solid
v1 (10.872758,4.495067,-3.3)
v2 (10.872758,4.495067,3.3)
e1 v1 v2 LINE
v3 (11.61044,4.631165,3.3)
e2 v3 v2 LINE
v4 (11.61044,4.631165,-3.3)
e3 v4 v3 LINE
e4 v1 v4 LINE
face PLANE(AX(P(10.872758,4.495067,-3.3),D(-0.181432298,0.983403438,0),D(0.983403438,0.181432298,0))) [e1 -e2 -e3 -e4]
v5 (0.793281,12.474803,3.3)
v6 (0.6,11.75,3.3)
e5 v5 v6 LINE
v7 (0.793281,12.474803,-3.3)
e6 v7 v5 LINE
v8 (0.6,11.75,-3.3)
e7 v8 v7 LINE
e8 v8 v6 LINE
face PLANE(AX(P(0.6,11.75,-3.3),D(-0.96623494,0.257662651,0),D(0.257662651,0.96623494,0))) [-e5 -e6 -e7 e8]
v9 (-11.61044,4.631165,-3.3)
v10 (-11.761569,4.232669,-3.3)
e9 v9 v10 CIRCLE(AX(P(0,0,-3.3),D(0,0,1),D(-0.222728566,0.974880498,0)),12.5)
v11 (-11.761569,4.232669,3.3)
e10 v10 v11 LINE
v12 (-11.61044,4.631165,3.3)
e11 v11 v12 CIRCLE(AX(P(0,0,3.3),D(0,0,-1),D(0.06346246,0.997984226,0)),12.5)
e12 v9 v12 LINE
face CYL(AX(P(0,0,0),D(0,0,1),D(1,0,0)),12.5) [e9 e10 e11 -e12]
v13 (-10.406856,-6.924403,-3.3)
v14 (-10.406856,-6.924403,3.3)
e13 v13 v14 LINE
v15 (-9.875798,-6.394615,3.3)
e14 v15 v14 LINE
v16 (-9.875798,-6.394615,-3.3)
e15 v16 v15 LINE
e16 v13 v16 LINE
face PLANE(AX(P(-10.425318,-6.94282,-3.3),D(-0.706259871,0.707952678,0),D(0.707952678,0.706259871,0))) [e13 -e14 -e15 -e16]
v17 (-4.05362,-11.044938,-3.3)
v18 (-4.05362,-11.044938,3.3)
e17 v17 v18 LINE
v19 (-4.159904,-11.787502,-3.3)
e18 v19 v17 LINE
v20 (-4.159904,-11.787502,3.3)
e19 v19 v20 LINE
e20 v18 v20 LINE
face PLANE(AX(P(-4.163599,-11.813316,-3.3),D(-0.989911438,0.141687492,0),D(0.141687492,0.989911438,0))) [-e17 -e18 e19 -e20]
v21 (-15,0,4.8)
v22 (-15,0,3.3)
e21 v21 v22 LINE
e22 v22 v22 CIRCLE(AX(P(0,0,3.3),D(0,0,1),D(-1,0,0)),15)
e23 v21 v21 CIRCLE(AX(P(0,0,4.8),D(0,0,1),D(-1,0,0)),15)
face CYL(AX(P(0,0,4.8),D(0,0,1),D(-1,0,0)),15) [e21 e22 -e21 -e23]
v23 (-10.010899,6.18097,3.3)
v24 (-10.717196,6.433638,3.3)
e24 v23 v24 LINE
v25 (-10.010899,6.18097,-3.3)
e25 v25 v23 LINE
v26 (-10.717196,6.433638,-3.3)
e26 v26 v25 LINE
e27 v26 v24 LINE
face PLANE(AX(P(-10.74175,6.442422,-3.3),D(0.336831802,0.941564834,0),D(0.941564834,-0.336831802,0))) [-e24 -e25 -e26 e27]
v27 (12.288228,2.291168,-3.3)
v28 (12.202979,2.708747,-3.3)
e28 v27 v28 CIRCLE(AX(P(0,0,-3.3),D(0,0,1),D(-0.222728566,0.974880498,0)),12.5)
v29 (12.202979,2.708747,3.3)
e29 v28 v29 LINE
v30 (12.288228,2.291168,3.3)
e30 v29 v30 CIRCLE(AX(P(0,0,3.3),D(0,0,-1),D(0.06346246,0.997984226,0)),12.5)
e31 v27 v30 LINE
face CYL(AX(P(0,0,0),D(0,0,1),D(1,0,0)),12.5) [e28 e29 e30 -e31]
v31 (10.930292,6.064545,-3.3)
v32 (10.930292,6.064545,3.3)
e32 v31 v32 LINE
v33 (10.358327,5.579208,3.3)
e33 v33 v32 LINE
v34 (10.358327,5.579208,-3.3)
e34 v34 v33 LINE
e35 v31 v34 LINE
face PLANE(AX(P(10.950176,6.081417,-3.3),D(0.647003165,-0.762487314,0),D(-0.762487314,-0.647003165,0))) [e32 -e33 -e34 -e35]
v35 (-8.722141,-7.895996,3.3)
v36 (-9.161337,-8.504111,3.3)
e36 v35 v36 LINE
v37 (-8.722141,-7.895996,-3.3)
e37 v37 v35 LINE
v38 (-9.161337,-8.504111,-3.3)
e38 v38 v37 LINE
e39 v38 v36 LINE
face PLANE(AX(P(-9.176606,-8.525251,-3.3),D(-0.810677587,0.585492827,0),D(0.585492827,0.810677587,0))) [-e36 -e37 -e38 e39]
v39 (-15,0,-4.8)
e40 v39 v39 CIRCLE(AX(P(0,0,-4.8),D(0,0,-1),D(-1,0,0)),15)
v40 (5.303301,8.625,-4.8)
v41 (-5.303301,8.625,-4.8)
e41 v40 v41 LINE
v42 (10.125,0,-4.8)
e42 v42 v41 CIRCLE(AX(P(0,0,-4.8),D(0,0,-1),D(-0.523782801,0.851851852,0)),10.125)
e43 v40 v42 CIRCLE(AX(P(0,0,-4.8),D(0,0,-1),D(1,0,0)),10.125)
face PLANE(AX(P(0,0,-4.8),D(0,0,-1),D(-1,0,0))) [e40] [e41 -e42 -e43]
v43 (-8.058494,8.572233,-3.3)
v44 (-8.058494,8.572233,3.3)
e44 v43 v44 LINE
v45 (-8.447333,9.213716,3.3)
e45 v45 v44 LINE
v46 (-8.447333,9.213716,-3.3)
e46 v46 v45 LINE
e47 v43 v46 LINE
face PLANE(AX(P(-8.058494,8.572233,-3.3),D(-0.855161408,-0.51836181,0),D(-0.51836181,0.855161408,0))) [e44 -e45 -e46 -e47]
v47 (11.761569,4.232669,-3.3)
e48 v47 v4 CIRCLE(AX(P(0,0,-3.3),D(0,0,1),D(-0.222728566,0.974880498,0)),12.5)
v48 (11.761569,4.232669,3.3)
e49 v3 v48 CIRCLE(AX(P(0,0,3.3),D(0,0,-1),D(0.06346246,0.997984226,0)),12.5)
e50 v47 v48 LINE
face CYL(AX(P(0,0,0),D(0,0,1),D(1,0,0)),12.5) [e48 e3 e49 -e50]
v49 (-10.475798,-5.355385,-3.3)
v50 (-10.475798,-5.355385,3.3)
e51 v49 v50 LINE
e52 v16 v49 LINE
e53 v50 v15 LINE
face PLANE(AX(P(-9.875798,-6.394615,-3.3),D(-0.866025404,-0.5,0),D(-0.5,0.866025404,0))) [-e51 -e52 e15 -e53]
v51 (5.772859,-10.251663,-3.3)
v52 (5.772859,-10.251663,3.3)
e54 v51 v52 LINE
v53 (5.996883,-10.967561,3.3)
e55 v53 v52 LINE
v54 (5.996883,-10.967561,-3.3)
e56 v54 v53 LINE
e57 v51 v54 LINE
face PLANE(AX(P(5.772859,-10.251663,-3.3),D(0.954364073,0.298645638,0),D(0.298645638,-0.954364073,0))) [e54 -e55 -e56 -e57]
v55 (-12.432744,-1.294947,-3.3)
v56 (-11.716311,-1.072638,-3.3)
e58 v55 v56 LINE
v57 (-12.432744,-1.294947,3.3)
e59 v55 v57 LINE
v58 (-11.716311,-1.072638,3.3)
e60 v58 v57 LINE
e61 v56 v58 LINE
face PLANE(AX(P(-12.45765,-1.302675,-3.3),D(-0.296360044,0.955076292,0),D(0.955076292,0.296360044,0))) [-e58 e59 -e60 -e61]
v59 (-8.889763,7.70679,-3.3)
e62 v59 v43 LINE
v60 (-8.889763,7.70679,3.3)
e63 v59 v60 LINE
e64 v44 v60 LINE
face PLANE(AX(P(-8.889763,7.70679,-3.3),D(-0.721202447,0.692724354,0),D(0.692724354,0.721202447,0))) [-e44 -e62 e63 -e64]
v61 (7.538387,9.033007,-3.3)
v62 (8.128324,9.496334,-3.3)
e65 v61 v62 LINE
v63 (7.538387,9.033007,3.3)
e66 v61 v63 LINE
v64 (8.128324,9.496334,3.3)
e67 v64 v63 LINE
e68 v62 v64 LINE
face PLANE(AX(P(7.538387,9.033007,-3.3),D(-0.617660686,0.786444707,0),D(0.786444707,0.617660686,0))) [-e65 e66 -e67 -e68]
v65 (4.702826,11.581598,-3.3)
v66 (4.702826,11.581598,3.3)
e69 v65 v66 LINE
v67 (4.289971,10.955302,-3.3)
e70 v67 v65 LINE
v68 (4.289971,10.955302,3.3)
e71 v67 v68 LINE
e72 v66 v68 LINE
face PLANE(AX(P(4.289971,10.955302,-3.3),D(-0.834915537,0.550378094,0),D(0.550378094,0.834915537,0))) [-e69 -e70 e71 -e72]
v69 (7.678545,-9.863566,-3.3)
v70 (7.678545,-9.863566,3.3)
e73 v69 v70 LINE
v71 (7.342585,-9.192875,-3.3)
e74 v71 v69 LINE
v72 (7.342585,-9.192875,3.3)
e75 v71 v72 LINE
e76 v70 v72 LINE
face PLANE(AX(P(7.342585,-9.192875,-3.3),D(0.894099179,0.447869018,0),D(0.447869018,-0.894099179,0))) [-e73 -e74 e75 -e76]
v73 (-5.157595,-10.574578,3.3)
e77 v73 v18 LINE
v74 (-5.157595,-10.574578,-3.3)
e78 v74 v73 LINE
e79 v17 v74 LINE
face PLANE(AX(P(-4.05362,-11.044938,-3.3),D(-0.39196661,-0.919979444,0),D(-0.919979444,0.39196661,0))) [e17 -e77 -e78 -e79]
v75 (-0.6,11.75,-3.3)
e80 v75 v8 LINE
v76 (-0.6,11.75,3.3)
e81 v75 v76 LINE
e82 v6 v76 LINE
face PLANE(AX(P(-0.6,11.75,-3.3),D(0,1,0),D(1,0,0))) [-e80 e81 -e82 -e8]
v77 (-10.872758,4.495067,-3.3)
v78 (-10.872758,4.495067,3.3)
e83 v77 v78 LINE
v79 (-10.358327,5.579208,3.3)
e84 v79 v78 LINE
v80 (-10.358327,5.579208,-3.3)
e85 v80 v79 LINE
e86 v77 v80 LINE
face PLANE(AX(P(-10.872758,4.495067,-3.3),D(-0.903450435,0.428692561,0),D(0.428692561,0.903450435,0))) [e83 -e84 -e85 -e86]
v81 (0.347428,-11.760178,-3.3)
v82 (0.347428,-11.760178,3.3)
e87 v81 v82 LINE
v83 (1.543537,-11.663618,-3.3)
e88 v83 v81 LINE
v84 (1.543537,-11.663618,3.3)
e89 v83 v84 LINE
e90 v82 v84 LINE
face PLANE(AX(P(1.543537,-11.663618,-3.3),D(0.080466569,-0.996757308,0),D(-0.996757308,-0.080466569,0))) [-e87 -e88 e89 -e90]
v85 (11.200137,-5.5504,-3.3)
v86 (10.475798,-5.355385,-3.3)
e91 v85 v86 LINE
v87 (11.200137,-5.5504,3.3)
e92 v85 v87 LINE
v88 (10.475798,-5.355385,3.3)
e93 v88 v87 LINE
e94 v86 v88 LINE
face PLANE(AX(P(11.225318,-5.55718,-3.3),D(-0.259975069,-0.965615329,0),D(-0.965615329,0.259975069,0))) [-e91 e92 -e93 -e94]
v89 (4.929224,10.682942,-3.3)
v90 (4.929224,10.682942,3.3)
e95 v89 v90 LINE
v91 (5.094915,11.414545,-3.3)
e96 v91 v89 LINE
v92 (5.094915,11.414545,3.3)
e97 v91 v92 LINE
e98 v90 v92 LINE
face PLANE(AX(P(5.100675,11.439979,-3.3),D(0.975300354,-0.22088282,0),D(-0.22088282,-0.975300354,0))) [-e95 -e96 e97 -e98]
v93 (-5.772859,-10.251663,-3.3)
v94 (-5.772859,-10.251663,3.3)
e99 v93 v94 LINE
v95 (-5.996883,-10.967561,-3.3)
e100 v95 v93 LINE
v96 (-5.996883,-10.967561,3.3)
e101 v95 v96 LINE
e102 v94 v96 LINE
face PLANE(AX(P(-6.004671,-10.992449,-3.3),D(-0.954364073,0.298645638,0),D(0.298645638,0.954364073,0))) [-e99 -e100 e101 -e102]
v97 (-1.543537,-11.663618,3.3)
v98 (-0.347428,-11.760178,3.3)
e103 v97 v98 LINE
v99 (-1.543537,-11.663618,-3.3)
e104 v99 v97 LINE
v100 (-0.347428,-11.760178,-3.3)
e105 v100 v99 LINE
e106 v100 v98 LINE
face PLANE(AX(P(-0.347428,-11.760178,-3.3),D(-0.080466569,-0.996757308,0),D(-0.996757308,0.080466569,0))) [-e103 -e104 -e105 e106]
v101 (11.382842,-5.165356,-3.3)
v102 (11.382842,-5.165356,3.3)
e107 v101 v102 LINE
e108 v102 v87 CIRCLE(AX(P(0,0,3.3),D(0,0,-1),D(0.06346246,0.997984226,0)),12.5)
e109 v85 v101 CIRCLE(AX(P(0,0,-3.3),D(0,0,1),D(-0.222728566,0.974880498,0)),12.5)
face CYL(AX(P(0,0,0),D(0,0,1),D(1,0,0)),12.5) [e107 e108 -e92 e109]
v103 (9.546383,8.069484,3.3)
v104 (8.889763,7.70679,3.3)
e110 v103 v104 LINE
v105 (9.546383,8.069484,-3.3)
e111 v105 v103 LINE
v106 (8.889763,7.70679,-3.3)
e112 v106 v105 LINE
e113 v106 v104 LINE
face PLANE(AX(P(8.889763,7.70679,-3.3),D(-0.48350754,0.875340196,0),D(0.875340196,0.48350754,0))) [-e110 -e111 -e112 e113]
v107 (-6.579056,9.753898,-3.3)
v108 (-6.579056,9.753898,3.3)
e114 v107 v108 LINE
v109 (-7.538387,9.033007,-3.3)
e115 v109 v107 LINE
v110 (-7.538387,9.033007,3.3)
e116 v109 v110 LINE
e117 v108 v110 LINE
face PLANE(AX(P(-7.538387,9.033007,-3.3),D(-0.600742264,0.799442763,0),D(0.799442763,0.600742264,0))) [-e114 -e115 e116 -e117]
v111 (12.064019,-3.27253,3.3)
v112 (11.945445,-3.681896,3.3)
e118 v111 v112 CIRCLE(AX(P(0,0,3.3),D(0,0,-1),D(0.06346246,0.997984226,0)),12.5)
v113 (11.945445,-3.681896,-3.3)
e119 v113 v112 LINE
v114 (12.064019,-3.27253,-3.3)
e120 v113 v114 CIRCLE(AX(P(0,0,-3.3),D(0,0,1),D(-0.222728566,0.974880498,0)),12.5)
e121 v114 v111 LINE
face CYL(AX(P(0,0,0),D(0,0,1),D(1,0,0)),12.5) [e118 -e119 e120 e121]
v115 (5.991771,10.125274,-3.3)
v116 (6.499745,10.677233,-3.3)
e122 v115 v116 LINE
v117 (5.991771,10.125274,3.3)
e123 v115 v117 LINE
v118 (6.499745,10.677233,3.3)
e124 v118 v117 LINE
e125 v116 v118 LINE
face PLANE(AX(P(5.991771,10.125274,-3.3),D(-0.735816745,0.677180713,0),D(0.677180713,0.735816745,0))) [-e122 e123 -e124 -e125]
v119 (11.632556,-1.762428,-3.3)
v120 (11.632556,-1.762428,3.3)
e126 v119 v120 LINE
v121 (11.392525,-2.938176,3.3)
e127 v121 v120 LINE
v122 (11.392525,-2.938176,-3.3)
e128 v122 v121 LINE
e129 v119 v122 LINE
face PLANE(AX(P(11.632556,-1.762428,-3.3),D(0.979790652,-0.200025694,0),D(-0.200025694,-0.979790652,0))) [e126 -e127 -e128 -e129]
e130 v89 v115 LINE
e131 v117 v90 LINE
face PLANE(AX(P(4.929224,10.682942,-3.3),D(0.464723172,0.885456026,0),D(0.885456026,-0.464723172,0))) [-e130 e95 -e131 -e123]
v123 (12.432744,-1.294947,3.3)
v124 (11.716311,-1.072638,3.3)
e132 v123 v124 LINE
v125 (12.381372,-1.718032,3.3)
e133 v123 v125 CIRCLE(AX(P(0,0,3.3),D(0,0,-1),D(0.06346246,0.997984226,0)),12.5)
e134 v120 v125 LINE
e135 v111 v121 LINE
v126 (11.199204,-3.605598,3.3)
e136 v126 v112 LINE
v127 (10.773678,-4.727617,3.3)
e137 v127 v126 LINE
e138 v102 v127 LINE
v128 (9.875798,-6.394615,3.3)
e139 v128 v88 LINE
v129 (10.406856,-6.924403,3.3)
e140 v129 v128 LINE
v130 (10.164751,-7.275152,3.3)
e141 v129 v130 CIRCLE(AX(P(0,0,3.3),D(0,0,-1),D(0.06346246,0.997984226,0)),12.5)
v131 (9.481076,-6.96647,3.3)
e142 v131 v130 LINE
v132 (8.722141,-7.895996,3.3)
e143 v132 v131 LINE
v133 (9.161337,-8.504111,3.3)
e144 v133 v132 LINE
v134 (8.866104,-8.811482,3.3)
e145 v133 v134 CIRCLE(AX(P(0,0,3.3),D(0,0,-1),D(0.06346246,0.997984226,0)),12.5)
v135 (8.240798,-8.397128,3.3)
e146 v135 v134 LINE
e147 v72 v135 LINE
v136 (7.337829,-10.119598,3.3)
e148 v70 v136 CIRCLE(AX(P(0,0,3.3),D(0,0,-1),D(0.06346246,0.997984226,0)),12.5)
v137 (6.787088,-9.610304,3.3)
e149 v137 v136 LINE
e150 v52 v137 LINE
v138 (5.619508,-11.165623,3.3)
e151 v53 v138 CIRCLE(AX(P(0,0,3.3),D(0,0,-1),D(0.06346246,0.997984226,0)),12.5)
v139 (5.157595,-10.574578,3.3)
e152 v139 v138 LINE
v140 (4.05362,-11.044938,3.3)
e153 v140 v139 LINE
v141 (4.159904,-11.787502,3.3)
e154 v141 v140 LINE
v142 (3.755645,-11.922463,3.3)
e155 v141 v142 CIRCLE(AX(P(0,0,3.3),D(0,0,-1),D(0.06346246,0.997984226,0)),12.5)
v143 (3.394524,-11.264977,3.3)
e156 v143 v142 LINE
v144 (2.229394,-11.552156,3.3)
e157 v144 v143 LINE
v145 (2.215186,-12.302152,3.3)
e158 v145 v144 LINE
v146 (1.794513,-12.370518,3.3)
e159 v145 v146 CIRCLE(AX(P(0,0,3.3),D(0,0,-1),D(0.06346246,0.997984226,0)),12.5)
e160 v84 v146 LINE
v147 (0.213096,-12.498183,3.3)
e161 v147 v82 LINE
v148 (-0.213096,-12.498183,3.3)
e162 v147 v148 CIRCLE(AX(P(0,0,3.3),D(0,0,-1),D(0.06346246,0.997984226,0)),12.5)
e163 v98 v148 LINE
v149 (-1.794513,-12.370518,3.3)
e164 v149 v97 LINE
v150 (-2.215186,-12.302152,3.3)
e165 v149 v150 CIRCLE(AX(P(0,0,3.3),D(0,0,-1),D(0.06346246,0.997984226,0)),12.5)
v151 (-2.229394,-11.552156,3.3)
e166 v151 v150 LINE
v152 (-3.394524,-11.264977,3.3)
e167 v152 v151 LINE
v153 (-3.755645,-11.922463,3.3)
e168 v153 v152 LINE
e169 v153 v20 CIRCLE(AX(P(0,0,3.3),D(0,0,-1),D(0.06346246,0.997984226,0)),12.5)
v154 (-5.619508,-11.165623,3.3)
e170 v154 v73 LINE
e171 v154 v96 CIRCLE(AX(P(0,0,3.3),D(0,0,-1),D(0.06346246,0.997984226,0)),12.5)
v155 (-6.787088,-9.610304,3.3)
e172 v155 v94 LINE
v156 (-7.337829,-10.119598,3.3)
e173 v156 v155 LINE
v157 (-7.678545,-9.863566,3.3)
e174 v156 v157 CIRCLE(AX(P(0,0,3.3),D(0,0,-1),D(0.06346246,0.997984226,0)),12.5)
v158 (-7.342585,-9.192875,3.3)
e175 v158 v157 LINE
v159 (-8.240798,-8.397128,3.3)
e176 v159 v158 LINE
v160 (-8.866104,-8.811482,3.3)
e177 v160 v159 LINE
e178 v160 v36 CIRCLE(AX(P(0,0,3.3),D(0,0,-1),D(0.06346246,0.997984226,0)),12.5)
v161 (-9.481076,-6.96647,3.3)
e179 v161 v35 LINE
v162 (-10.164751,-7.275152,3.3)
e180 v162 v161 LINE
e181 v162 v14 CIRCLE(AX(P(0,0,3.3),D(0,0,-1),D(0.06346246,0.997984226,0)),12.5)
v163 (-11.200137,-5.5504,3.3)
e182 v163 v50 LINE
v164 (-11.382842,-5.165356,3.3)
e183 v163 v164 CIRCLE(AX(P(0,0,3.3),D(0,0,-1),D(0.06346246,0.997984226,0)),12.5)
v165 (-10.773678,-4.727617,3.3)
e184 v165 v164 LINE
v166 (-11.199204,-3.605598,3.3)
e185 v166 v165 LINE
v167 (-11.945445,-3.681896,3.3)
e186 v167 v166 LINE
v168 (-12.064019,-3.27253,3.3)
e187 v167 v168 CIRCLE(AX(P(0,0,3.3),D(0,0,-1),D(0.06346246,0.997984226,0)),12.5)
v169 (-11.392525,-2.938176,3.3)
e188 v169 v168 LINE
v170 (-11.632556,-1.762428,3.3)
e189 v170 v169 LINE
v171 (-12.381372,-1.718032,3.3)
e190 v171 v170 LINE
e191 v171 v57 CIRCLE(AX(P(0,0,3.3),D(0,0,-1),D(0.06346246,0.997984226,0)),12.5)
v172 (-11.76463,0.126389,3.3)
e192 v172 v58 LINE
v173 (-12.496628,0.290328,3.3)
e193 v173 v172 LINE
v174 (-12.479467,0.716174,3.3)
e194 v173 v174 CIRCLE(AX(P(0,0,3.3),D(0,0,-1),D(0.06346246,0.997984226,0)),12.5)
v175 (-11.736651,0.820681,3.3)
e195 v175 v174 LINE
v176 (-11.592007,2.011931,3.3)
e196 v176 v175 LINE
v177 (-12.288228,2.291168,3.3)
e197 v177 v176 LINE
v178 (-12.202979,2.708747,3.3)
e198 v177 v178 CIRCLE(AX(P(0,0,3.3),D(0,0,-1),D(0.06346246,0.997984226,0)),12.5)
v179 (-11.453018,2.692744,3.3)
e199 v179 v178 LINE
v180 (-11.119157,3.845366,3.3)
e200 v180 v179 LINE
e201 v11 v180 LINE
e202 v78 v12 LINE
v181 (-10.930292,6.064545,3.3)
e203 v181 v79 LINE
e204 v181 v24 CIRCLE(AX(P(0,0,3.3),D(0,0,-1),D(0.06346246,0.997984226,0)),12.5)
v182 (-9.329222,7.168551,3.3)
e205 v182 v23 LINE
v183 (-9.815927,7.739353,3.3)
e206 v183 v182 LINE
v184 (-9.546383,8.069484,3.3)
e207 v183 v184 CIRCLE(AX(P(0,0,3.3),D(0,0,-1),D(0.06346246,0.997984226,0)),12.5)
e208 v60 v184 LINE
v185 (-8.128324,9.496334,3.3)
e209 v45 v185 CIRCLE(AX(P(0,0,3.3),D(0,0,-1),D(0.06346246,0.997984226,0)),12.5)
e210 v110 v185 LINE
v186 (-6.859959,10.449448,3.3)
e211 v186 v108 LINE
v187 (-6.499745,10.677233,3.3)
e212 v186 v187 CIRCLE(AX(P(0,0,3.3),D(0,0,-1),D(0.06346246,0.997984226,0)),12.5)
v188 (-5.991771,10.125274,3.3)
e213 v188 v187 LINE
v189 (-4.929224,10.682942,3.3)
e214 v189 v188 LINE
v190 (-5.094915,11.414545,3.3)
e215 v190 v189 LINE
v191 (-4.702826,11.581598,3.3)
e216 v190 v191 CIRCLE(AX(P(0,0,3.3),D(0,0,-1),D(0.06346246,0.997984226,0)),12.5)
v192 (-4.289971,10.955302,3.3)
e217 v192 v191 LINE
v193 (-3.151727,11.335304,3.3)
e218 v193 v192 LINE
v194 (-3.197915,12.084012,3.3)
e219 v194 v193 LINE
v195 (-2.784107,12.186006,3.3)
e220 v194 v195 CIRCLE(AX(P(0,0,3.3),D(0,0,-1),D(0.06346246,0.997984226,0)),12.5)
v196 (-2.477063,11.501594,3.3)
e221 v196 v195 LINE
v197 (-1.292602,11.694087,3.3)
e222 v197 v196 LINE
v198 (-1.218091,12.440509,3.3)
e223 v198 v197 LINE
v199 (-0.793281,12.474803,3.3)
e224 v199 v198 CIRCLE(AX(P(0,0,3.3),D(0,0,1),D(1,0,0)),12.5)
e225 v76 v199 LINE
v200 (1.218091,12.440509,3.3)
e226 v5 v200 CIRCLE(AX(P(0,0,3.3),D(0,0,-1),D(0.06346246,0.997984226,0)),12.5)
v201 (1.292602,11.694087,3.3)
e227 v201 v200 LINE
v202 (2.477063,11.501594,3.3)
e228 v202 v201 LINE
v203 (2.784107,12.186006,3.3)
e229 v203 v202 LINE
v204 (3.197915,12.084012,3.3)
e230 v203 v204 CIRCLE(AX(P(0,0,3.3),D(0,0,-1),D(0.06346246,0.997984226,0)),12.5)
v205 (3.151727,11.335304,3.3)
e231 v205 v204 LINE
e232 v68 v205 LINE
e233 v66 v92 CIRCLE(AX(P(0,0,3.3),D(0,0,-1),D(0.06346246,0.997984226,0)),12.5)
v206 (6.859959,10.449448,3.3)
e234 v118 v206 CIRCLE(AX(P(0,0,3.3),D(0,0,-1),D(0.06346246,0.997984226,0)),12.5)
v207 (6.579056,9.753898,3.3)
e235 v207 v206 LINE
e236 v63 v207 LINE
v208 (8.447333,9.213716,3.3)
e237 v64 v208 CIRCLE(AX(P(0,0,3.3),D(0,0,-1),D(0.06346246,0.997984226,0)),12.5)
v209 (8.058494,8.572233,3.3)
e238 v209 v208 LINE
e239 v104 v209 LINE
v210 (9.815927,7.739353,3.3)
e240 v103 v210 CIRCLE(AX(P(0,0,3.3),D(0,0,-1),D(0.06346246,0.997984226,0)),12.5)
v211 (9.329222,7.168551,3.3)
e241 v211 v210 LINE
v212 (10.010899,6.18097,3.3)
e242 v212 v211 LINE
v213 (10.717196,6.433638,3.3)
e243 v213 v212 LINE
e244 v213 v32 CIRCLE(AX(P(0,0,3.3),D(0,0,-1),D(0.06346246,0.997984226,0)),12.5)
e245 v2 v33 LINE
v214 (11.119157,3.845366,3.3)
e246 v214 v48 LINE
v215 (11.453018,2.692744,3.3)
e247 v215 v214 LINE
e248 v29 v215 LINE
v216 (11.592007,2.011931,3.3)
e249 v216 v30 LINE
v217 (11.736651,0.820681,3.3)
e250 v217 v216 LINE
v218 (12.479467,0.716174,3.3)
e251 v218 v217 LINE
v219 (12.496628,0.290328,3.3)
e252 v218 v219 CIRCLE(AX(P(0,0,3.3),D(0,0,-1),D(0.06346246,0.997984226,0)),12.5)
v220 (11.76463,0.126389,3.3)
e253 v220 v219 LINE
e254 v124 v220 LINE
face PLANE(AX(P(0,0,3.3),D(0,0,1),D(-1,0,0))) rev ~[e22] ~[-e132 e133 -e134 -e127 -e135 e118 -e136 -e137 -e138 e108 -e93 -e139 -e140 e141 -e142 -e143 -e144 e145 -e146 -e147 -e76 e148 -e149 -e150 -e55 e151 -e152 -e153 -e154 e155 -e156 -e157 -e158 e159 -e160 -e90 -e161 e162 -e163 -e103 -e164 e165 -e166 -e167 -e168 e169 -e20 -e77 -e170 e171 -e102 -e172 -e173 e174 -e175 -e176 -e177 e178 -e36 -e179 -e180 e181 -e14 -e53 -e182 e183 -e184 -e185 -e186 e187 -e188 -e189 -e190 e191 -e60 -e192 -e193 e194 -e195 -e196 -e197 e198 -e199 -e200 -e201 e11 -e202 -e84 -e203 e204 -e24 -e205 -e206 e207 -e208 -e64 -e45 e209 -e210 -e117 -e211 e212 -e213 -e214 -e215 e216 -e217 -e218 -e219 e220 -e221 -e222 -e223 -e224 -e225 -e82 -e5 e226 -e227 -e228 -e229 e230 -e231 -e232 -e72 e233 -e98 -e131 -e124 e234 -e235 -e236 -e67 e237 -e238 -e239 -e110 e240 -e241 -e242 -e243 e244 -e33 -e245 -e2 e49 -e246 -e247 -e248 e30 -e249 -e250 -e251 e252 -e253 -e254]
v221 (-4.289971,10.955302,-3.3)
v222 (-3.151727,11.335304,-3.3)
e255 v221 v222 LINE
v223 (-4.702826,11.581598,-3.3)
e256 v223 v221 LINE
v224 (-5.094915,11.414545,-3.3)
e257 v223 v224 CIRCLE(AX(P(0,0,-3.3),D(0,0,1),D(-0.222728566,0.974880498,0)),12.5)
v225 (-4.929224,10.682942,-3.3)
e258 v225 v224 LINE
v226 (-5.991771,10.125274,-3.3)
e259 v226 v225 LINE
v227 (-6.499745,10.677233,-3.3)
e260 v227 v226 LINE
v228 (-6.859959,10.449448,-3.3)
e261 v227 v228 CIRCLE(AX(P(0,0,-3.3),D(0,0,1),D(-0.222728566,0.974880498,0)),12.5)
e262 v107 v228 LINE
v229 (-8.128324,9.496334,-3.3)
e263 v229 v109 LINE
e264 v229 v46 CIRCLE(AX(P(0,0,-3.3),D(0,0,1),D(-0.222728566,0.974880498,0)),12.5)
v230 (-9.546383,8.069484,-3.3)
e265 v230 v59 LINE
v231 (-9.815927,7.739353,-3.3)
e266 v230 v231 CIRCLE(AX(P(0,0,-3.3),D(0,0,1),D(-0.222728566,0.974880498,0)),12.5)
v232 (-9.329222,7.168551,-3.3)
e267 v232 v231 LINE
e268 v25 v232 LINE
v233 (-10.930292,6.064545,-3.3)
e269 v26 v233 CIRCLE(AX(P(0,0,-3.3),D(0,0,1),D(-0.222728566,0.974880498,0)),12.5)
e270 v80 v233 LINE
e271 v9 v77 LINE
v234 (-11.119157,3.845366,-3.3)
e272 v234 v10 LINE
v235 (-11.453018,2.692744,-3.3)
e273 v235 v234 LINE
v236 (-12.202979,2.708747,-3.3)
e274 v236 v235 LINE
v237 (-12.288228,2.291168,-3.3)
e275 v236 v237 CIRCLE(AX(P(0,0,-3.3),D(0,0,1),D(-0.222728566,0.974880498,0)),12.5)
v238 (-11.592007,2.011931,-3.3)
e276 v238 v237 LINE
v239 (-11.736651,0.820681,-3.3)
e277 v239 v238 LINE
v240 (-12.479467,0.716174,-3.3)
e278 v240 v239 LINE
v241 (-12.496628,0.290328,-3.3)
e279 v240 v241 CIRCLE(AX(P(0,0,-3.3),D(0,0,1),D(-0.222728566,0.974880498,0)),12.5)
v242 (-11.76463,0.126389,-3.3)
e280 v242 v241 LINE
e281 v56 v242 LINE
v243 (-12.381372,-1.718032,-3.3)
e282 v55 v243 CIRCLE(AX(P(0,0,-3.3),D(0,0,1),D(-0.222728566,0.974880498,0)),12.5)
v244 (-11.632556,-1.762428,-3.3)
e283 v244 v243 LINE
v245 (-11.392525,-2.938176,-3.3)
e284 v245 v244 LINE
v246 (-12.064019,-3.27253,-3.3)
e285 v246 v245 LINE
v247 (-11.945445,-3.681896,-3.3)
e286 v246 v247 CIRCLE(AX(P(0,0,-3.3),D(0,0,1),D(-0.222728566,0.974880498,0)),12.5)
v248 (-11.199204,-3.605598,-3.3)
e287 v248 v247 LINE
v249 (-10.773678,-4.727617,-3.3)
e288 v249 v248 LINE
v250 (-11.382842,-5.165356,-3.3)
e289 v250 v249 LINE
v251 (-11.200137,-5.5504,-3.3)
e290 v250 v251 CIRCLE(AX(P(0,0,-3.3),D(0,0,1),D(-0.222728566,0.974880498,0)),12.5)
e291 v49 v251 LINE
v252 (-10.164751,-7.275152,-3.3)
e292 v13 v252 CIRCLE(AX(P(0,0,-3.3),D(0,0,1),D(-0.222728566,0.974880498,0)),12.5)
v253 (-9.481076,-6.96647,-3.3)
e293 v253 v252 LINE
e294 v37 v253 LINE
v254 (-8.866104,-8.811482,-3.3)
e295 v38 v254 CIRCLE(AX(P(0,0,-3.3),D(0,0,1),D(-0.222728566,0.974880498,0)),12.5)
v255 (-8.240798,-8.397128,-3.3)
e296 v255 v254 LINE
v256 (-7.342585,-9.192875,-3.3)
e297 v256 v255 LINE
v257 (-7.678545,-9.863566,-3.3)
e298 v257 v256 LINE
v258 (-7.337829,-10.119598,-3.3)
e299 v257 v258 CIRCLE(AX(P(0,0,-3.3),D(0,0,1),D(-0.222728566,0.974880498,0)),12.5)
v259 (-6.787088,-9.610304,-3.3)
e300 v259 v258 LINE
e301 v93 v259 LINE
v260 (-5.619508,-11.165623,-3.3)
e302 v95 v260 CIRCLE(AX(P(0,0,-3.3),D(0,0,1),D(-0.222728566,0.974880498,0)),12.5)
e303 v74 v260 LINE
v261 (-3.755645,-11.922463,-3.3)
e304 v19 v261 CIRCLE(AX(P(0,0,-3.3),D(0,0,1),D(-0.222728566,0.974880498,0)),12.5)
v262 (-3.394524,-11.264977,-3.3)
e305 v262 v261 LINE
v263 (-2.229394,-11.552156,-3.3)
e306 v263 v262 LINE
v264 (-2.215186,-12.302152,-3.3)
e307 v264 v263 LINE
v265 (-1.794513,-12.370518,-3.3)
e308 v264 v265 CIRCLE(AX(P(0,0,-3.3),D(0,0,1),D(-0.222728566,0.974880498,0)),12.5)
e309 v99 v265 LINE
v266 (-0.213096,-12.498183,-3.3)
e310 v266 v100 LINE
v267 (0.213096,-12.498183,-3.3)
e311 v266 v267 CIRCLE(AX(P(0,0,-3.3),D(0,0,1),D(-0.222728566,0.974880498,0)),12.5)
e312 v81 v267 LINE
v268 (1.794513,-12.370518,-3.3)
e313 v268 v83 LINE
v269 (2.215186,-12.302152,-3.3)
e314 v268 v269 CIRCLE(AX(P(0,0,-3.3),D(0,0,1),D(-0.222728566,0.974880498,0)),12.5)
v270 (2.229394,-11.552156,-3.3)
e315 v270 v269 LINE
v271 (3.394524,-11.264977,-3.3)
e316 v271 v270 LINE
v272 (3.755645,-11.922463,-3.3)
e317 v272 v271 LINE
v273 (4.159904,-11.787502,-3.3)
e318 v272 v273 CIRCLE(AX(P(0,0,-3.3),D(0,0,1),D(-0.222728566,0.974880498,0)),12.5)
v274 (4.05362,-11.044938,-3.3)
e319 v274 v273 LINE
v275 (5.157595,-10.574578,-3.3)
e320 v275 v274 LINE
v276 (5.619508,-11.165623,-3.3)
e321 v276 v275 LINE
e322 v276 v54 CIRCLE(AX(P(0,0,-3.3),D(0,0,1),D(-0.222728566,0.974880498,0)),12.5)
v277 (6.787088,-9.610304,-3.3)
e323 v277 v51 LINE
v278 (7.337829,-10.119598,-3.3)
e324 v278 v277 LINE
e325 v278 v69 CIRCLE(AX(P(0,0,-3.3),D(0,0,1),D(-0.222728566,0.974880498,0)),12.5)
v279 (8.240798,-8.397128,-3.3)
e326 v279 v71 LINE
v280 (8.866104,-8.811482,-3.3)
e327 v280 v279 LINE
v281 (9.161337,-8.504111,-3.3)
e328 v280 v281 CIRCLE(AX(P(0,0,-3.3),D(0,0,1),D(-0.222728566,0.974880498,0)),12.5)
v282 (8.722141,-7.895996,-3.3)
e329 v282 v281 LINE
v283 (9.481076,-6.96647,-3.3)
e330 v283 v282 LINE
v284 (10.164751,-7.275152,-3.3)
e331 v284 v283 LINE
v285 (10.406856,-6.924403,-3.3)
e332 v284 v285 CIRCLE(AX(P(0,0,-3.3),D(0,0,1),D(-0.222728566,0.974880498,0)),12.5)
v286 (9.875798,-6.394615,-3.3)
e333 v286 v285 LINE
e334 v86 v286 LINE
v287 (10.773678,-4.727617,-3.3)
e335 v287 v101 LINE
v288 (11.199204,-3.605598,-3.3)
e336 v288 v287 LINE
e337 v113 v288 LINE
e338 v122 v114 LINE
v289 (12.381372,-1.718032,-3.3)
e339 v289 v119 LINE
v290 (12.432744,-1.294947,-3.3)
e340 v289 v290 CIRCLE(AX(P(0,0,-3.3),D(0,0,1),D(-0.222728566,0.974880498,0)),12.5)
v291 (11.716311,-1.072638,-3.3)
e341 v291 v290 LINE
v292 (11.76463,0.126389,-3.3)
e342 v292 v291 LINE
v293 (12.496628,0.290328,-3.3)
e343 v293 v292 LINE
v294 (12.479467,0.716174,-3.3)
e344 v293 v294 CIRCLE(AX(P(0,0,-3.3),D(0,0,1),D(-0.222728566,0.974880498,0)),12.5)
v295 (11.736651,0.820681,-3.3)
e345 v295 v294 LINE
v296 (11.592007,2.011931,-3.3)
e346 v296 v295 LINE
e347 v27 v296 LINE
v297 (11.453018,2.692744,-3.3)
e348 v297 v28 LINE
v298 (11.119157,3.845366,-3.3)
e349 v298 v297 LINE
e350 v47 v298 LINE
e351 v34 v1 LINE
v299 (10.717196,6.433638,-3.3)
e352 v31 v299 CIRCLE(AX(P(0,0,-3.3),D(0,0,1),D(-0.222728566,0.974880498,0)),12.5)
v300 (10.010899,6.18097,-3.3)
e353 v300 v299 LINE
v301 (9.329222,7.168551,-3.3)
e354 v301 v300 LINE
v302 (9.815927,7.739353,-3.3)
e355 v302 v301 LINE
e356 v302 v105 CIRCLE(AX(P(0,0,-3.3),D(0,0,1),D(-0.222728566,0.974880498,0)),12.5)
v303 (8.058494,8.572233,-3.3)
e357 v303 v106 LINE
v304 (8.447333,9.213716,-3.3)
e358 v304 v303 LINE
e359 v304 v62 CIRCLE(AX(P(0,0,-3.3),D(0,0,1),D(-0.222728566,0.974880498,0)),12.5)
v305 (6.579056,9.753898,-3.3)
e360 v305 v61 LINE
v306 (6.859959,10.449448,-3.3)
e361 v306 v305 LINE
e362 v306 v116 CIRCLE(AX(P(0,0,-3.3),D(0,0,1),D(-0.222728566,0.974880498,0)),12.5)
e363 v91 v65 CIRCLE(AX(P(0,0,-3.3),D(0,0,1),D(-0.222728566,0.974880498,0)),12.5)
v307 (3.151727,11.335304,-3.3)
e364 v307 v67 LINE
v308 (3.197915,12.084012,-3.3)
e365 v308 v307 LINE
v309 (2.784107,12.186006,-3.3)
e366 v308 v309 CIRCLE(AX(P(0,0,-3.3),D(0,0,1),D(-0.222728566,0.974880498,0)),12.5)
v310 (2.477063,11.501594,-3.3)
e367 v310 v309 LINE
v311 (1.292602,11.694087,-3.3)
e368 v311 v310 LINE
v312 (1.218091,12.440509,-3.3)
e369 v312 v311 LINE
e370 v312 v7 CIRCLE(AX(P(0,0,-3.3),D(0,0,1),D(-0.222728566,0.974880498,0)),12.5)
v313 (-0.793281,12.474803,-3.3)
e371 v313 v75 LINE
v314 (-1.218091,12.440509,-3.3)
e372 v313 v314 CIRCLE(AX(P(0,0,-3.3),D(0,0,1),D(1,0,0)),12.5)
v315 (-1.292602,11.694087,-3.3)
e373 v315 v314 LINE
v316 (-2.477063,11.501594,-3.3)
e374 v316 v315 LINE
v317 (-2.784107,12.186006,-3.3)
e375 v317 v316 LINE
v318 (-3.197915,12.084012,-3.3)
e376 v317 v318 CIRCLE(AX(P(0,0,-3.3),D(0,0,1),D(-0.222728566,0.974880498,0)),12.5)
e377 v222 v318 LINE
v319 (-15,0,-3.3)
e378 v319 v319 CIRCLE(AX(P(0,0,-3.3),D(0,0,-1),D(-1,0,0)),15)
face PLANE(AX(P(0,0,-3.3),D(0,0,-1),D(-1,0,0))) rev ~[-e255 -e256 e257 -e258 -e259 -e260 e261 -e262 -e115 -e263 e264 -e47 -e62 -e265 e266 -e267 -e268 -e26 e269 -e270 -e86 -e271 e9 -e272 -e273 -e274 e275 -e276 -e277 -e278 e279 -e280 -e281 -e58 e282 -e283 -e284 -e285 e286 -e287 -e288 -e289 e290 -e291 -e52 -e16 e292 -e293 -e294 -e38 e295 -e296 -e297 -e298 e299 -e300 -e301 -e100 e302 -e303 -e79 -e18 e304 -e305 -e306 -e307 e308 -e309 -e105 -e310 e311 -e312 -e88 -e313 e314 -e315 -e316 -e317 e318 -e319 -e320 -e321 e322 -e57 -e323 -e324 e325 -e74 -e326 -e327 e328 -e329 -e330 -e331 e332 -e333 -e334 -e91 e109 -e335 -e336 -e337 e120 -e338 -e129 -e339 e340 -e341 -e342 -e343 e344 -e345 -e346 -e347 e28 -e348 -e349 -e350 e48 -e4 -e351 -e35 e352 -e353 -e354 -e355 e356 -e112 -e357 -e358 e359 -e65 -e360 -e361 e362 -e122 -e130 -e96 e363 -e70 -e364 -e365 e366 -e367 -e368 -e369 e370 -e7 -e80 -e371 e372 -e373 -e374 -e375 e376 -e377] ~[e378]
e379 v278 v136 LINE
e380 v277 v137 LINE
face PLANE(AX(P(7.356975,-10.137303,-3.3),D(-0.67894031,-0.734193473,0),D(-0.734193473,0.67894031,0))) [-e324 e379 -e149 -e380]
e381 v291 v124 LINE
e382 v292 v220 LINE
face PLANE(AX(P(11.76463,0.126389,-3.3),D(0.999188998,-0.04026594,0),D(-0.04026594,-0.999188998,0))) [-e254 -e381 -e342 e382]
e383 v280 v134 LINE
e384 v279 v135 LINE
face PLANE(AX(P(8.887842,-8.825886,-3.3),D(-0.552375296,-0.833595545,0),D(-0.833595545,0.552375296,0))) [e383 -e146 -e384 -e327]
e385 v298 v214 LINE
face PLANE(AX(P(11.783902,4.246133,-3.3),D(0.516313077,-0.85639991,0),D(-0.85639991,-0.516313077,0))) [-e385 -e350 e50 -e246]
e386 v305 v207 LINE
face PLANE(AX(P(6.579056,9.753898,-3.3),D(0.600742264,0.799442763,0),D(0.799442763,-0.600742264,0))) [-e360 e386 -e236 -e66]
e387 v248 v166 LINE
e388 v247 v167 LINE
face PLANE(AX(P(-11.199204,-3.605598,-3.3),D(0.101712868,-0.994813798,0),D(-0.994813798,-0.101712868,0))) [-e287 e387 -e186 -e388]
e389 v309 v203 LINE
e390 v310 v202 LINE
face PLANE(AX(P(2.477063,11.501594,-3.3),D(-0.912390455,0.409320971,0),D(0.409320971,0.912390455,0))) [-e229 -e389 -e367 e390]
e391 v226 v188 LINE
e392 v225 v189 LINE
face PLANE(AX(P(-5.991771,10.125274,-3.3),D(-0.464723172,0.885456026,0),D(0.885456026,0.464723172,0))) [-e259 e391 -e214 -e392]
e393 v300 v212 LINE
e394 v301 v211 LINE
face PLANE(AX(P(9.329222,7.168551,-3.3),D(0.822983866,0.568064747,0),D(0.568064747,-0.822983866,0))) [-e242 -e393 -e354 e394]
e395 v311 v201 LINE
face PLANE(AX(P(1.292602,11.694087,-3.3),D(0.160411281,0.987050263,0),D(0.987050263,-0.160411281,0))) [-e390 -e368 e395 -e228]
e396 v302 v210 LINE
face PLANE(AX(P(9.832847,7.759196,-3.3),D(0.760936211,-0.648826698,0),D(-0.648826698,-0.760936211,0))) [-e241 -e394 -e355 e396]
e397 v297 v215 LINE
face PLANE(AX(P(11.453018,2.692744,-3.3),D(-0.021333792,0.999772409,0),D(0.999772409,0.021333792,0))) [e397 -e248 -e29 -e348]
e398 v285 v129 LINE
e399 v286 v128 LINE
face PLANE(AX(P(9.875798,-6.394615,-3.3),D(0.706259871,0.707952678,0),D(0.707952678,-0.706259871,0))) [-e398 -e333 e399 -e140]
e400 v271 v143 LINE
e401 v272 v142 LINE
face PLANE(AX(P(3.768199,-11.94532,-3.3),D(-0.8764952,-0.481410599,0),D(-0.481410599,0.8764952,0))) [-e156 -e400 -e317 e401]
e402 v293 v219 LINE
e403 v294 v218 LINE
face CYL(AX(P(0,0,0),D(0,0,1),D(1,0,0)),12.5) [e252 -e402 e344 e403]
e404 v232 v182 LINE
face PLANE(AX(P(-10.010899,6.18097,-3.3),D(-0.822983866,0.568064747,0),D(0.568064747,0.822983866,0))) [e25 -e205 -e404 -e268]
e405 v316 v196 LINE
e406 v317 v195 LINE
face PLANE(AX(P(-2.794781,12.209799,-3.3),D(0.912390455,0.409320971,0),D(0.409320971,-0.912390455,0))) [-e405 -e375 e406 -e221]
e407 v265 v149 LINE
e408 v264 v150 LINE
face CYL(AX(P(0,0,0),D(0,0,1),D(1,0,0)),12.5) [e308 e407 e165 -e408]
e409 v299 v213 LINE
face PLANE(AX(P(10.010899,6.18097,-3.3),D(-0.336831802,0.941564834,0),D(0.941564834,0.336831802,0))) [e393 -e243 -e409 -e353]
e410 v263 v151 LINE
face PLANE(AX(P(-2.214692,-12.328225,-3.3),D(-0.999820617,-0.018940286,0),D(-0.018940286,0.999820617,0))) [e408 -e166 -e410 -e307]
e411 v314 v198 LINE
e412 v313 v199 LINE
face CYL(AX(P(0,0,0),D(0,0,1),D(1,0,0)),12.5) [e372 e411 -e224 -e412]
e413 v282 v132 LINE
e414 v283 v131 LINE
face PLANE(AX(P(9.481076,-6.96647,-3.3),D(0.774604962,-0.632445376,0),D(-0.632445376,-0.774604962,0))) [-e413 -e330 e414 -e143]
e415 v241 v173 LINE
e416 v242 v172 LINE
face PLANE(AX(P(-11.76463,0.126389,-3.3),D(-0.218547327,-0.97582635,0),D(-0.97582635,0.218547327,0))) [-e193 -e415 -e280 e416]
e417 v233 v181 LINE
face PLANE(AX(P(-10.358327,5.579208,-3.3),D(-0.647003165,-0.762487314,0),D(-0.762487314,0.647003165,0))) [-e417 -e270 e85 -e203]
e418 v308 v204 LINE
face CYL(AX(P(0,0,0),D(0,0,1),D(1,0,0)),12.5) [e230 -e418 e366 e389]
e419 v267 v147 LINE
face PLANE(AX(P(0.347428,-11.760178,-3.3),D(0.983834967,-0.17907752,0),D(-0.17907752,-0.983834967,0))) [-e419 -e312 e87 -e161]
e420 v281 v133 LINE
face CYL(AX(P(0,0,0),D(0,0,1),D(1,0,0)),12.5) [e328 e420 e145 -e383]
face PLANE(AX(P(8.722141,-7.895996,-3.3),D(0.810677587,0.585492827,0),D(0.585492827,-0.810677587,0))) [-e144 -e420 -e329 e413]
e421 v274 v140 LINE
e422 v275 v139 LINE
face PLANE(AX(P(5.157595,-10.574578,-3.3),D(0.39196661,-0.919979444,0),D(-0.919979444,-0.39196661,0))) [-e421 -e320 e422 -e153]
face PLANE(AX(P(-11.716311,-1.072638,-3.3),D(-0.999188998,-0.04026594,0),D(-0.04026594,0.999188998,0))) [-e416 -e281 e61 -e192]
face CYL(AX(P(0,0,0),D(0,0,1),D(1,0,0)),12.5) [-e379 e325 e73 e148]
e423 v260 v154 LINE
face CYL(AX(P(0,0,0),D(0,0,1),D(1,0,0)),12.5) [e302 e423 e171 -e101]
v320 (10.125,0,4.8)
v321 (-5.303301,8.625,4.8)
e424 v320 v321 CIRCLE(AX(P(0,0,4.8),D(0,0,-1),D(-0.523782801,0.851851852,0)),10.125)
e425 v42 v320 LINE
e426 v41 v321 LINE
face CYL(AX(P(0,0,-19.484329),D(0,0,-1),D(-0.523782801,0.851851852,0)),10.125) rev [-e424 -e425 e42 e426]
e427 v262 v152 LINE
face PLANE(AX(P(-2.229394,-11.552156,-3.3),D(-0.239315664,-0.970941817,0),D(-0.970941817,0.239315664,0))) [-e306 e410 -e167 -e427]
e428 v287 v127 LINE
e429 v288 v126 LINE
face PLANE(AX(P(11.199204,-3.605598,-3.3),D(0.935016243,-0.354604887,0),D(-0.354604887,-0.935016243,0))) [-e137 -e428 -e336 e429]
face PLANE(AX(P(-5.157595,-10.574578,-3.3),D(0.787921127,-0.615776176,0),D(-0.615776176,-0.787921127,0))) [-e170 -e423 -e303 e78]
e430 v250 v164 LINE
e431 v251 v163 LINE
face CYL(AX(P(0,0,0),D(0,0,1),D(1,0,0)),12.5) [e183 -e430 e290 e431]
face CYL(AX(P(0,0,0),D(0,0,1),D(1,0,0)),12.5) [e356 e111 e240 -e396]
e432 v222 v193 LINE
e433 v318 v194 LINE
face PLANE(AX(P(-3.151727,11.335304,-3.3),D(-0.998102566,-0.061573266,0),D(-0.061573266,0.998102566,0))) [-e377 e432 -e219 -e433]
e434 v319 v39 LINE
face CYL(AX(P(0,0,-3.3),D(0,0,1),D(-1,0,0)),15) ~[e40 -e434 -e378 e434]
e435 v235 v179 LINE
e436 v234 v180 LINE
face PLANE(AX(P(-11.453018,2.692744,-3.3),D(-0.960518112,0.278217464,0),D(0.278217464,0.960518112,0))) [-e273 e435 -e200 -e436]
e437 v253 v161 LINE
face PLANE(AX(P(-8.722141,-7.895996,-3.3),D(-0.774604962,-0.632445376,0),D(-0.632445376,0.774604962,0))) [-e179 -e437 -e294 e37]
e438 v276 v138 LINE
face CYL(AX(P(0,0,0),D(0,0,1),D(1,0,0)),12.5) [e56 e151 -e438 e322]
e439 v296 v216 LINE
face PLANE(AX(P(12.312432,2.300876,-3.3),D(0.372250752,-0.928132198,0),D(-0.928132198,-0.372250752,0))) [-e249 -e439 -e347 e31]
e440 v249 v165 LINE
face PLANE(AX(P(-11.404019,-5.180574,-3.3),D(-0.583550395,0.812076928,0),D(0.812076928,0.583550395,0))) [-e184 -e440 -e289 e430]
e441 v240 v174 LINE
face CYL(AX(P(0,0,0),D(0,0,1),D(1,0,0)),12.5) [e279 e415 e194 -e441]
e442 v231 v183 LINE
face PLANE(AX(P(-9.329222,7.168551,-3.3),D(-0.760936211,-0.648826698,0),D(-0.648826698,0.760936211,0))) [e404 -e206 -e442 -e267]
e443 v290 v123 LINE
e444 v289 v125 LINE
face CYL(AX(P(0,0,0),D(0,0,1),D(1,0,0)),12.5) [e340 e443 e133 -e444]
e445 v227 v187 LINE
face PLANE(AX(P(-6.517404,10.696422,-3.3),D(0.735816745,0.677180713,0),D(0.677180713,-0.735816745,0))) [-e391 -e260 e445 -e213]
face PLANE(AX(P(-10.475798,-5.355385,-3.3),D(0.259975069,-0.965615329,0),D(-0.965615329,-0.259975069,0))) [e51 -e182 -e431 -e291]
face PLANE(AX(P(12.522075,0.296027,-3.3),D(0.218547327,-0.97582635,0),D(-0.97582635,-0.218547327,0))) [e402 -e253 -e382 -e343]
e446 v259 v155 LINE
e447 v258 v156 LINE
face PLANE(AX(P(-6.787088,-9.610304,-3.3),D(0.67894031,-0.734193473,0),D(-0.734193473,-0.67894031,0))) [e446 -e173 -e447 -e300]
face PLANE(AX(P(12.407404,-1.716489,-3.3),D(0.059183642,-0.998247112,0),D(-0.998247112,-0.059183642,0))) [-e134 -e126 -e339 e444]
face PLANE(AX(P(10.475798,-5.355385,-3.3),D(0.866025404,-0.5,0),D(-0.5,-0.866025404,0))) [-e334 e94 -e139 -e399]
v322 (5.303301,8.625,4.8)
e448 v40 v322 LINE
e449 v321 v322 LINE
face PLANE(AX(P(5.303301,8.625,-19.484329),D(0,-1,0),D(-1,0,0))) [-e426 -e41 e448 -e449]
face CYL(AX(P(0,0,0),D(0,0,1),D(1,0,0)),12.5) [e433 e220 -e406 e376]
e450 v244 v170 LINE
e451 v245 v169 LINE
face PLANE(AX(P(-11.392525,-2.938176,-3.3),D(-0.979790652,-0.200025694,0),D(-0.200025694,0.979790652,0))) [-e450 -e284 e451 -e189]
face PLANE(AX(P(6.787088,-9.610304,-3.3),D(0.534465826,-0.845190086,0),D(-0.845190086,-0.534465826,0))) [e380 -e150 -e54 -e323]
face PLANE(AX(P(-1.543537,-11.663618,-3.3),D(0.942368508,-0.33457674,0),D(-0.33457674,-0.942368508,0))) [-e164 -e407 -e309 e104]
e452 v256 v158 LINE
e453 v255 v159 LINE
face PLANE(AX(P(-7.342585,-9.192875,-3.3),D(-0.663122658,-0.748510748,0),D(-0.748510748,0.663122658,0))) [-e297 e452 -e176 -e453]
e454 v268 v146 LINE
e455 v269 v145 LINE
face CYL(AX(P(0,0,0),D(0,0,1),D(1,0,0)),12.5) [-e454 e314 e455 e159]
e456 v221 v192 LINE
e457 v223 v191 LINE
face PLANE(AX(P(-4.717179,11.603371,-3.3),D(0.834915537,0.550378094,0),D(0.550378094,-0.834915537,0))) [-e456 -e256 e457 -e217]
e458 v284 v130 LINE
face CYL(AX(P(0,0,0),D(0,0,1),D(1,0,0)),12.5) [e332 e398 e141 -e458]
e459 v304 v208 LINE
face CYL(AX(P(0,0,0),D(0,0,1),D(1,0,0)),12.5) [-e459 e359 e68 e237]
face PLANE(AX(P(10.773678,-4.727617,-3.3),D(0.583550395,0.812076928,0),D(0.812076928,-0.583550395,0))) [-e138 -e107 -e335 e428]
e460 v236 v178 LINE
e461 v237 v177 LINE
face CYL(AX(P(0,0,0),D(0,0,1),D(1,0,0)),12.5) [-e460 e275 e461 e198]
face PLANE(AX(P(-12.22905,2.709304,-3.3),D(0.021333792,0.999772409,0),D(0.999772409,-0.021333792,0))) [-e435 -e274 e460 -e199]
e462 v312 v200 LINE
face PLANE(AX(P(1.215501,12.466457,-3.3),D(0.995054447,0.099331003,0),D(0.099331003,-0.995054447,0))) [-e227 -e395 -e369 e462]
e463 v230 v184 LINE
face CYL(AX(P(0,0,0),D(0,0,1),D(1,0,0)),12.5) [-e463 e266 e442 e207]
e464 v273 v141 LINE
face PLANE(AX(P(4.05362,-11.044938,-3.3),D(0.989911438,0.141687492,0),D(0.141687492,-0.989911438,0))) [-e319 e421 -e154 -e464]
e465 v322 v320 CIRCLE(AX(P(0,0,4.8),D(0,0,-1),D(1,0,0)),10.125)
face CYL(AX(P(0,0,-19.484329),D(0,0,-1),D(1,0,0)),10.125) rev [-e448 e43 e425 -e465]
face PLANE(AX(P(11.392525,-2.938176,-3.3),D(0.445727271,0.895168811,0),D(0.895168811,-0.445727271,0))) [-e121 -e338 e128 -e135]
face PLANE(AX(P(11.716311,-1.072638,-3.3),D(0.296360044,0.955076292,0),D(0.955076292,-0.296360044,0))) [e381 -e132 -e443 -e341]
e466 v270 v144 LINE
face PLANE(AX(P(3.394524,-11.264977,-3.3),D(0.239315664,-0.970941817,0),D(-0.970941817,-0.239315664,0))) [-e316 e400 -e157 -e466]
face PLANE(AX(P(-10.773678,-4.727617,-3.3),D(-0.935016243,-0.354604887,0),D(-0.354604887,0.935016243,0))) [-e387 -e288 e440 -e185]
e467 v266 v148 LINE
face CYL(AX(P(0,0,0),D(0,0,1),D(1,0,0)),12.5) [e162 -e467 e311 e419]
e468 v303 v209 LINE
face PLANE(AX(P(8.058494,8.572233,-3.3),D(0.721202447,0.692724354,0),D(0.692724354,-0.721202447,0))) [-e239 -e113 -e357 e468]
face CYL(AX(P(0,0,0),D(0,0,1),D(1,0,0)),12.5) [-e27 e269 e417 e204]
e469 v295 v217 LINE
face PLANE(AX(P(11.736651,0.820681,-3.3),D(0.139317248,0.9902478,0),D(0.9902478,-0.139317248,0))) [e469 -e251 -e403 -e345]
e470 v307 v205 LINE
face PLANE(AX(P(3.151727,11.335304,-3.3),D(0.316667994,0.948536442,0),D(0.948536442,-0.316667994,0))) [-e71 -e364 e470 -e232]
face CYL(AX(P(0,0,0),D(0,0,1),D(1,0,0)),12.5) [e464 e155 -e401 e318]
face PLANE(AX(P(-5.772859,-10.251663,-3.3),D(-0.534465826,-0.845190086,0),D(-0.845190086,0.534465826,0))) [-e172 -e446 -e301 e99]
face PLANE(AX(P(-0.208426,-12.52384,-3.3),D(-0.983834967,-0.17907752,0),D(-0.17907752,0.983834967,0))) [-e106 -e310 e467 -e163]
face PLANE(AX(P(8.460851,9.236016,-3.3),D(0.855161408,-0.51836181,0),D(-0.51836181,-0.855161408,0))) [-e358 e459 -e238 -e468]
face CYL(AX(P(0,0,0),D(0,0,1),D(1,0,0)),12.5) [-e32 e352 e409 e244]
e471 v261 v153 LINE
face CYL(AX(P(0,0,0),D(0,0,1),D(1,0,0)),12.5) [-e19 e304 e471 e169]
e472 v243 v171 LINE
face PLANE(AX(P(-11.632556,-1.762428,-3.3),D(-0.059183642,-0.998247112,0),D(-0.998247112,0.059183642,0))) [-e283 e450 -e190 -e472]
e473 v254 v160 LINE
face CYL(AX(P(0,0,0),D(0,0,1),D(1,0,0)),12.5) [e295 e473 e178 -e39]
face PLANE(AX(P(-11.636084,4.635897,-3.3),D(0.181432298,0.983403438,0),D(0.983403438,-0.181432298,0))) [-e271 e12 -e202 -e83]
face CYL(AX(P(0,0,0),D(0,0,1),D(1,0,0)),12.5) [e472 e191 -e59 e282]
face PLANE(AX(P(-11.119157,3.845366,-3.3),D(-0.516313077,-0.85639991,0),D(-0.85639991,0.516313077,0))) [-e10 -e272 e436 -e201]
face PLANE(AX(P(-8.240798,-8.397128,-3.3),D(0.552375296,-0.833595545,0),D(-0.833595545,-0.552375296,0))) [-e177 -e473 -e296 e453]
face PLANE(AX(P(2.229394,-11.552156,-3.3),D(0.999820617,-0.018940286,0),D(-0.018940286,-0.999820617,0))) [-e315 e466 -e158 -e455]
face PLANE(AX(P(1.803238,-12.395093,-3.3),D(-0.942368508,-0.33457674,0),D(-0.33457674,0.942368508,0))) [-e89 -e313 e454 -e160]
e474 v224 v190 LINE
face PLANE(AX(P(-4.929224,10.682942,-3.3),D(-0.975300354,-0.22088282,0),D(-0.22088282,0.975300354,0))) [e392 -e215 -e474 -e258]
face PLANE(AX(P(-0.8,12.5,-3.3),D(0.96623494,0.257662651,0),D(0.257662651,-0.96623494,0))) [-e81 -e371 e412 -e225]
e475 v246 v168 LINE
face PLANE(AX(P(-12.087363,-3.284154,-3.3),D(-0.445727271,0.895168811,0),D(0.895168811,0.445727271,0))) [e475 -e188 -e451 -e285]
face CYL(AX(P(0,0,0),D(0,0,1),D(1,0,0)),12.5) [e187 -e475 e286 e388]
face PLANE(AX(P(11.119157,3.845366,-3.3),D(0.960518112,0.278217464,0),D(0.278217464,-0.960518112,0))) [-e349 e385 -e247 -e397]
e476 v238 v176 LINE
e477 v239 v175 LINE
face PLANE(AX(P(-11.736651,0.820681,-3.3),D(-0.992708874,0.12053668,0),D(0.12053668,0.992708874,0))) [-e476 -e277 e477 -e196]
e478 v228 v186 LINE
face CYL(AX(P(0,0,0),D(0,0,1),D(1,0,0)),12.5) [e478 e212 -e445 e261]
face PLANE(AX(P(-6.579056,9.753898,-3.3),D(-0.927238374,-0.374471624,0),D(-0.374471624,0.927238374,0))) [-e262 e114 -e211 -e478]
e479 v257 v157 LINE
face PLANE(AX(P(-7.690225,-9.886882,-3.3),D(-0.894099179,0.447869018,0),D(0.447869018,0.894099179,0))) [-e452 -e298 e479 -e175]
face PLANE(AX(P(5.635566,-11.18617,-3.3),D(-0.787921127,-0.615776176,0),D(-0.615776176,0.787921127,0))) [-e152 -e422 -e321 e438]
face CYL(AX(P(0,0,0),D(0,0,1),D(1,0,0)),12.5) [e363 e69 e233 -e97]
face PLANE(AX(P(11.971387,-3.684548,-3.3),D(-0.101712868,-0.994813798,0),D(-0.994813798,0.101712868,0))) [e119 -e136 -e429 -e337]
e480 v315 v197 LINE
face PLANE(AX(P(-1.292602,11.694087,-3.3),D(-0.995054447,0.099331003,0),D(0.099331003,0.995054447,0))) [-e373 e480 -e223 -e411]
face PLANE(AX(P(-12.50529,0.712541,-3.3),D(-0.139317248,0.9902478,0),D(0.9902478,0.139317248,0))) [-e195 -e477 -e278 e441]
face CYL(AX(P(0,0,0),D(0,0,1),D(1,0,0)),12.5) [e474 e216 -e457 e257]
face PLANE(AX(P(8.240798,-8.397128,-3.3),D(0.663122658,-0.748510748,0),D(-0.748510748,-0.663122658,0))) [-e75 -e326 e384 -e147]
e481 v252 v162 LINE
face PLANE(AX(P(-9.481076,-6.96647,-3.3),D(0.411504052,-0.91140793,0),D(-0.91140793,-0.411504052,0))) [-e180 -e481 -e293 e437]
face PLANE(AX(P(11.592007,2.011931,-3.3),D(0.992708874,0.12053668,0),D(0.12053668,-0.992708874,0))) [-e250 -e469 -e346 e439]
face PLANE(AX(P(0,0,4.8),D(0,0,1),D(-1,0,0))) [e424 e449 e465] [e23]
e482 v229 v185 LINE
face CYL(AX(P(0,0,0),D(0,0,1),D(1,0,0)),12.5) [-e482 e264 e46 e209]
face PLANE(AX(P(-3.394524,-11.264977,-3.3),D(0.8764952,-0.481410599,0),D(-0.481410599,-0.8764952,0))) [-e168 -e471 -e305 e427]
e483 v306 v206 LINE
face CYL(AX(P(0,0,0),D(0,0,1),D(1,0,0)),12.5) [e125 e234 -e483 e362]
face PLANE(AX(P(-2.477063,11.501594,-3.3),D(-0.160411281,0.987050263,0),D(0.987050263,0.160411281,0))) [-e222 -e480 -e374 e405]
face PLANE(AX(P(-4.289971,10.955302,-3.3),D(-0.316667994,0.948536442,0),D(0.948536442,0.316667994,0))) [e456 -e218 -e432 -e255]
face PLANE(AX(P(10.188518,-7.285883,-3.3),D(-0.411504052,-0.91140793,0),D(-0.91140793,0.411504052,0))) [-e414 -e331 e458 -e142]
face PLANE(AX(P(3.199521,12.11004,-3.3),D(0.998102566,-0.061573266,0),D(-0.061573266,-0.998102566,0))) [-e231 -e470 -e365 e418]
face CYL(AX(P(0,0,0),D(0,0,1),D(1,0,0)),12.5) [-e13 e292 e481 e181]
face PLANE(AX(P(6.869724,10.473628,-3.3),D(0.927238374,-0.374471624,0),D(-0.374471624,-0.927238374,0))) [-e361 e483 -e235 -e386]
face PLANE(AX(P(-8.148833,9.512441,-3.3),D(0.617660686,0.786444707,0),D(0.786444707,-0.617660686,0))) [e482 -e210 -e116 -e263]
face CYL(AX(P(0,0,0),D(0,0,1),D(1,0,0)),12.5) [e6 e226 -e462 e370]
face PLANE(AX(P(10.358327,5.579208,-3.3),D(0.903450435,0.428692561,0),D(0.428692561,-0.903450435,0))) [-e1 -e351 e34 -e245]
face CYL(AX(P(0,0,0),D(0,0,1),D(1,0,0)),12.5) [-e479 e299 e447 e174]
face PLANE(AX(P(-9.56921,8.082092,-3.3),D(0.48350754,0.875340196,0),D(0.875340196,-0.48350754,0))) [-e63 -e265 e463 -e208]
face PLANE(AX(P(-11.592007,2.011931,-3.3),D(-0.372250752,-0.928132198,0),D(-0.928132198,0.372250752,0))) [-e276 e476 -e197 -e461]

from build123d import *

# Parameters (mm, degrees)
SKETCH1_R               = 12.5
BOSS_EXTRUDE1_DEPTH     = 3.3
CUT_EXTRUDE1_START      = -6.6
CUT_EXTRUDE1_DEPTH      = 26.469552194
CIRPATTERN2_COUNT       = 39
SKETCH2_R               = 15
BOSS_EXTRUDE3_DEPTH     = 1.5
BOSS_EXTRUDE4_START     = 1.5
SKETCH3_R               = 14.999999972
BOSS_EXTRUDE4_DEPTH     = 1.5
CUT_EXTRUDE3_DEPTH      = 24.284329494
CUT_EXTRUDE3_DEPTH_BACK = 24.284329494


with BuildPart() as part:
    # Sketch1 → Boss-Extrude1 (new, symmetric)
    with BuildSketch(Plane.XY):
        Circle(SKETCH1_R)
    extrude(amount=BOSS_EXTRUDE1_DEPTH, both=True)

    # Sketch4 → Cut-Extrude1 (cut)
    with BuildSketch(Plane.XY.offset(3.3).offset(CUT_EXTRUDE1_START)):
        Polygon((-0.6, 11.75), (0.6, 11.75), (0.8, 12.5), (-0.8, 12.5), align=None)
    cut_extrude1 = extrude(amount=CUT_EXTRUDE1_DEPTH, mode=Mode.SUBTRACT)

    # CirPattern2: Cut-Extrude1 ×39 about axis
    cirpattern2_axis = Axis((0, 0, 0), (0, 0, 1))
    for i in range(1, CIRPATTERN2_COUNT):
        add(cut_extrude1.rotate(cirpattern2_axis, i * 360 / CIRPATTERN2_COUNT), mode=Mode.SUBTRACT)

    # Sketch2 → Boss-Extrude3 (add)
    with BuildSketch(Plane(origin=(0, 0, -3.3), x_dir=(-1, 0, 0), z_dir=(0, 0, -1))):
        Circle(SKETCH2_R)
    extrude(amount=BOSS_EXTRUDE3_DEPTH)

    # Sketch3 → Boss-Extrude4 (add)
    with BuildSketch(Plane.XY.offset(3.3).offset(BOSS_EXTRUDE4_START)):
        with Locations(Location((0, 0, 0), (0, 0, 180))):
            Circle(SKETCH3_R)
    extrude(amount=-BOSS_EXTRUDE4_DEPTH)

    # Sketch6 → Cut-Extrude3 (cut, two sides: drawn at the far end of the back side and taken through both)
    with BuildSketch(Plane.XY.offset(4.8).offset(-CUT_EXTRUDE3_DEPTH_BACK)):
        with BuildLine():
            Line((5.303300859, 8.625), (-5.303300859, 8.625))
            ThreePointArc((-5.303300859, 8.625), (-4.940632743, -8.83774706), (10.125, 0))
            ThreePointArc((10.125, 0), (8.83774706, 4.940632743), (5.303300859, 8.625))
        make_face()
    extrude(amount=CUT_EXTRUDE3_DEPTH + CUT_EXTRUDE3_DEPTH_BACK, mode=Mode.SUBTRACT)


solid = part.part
